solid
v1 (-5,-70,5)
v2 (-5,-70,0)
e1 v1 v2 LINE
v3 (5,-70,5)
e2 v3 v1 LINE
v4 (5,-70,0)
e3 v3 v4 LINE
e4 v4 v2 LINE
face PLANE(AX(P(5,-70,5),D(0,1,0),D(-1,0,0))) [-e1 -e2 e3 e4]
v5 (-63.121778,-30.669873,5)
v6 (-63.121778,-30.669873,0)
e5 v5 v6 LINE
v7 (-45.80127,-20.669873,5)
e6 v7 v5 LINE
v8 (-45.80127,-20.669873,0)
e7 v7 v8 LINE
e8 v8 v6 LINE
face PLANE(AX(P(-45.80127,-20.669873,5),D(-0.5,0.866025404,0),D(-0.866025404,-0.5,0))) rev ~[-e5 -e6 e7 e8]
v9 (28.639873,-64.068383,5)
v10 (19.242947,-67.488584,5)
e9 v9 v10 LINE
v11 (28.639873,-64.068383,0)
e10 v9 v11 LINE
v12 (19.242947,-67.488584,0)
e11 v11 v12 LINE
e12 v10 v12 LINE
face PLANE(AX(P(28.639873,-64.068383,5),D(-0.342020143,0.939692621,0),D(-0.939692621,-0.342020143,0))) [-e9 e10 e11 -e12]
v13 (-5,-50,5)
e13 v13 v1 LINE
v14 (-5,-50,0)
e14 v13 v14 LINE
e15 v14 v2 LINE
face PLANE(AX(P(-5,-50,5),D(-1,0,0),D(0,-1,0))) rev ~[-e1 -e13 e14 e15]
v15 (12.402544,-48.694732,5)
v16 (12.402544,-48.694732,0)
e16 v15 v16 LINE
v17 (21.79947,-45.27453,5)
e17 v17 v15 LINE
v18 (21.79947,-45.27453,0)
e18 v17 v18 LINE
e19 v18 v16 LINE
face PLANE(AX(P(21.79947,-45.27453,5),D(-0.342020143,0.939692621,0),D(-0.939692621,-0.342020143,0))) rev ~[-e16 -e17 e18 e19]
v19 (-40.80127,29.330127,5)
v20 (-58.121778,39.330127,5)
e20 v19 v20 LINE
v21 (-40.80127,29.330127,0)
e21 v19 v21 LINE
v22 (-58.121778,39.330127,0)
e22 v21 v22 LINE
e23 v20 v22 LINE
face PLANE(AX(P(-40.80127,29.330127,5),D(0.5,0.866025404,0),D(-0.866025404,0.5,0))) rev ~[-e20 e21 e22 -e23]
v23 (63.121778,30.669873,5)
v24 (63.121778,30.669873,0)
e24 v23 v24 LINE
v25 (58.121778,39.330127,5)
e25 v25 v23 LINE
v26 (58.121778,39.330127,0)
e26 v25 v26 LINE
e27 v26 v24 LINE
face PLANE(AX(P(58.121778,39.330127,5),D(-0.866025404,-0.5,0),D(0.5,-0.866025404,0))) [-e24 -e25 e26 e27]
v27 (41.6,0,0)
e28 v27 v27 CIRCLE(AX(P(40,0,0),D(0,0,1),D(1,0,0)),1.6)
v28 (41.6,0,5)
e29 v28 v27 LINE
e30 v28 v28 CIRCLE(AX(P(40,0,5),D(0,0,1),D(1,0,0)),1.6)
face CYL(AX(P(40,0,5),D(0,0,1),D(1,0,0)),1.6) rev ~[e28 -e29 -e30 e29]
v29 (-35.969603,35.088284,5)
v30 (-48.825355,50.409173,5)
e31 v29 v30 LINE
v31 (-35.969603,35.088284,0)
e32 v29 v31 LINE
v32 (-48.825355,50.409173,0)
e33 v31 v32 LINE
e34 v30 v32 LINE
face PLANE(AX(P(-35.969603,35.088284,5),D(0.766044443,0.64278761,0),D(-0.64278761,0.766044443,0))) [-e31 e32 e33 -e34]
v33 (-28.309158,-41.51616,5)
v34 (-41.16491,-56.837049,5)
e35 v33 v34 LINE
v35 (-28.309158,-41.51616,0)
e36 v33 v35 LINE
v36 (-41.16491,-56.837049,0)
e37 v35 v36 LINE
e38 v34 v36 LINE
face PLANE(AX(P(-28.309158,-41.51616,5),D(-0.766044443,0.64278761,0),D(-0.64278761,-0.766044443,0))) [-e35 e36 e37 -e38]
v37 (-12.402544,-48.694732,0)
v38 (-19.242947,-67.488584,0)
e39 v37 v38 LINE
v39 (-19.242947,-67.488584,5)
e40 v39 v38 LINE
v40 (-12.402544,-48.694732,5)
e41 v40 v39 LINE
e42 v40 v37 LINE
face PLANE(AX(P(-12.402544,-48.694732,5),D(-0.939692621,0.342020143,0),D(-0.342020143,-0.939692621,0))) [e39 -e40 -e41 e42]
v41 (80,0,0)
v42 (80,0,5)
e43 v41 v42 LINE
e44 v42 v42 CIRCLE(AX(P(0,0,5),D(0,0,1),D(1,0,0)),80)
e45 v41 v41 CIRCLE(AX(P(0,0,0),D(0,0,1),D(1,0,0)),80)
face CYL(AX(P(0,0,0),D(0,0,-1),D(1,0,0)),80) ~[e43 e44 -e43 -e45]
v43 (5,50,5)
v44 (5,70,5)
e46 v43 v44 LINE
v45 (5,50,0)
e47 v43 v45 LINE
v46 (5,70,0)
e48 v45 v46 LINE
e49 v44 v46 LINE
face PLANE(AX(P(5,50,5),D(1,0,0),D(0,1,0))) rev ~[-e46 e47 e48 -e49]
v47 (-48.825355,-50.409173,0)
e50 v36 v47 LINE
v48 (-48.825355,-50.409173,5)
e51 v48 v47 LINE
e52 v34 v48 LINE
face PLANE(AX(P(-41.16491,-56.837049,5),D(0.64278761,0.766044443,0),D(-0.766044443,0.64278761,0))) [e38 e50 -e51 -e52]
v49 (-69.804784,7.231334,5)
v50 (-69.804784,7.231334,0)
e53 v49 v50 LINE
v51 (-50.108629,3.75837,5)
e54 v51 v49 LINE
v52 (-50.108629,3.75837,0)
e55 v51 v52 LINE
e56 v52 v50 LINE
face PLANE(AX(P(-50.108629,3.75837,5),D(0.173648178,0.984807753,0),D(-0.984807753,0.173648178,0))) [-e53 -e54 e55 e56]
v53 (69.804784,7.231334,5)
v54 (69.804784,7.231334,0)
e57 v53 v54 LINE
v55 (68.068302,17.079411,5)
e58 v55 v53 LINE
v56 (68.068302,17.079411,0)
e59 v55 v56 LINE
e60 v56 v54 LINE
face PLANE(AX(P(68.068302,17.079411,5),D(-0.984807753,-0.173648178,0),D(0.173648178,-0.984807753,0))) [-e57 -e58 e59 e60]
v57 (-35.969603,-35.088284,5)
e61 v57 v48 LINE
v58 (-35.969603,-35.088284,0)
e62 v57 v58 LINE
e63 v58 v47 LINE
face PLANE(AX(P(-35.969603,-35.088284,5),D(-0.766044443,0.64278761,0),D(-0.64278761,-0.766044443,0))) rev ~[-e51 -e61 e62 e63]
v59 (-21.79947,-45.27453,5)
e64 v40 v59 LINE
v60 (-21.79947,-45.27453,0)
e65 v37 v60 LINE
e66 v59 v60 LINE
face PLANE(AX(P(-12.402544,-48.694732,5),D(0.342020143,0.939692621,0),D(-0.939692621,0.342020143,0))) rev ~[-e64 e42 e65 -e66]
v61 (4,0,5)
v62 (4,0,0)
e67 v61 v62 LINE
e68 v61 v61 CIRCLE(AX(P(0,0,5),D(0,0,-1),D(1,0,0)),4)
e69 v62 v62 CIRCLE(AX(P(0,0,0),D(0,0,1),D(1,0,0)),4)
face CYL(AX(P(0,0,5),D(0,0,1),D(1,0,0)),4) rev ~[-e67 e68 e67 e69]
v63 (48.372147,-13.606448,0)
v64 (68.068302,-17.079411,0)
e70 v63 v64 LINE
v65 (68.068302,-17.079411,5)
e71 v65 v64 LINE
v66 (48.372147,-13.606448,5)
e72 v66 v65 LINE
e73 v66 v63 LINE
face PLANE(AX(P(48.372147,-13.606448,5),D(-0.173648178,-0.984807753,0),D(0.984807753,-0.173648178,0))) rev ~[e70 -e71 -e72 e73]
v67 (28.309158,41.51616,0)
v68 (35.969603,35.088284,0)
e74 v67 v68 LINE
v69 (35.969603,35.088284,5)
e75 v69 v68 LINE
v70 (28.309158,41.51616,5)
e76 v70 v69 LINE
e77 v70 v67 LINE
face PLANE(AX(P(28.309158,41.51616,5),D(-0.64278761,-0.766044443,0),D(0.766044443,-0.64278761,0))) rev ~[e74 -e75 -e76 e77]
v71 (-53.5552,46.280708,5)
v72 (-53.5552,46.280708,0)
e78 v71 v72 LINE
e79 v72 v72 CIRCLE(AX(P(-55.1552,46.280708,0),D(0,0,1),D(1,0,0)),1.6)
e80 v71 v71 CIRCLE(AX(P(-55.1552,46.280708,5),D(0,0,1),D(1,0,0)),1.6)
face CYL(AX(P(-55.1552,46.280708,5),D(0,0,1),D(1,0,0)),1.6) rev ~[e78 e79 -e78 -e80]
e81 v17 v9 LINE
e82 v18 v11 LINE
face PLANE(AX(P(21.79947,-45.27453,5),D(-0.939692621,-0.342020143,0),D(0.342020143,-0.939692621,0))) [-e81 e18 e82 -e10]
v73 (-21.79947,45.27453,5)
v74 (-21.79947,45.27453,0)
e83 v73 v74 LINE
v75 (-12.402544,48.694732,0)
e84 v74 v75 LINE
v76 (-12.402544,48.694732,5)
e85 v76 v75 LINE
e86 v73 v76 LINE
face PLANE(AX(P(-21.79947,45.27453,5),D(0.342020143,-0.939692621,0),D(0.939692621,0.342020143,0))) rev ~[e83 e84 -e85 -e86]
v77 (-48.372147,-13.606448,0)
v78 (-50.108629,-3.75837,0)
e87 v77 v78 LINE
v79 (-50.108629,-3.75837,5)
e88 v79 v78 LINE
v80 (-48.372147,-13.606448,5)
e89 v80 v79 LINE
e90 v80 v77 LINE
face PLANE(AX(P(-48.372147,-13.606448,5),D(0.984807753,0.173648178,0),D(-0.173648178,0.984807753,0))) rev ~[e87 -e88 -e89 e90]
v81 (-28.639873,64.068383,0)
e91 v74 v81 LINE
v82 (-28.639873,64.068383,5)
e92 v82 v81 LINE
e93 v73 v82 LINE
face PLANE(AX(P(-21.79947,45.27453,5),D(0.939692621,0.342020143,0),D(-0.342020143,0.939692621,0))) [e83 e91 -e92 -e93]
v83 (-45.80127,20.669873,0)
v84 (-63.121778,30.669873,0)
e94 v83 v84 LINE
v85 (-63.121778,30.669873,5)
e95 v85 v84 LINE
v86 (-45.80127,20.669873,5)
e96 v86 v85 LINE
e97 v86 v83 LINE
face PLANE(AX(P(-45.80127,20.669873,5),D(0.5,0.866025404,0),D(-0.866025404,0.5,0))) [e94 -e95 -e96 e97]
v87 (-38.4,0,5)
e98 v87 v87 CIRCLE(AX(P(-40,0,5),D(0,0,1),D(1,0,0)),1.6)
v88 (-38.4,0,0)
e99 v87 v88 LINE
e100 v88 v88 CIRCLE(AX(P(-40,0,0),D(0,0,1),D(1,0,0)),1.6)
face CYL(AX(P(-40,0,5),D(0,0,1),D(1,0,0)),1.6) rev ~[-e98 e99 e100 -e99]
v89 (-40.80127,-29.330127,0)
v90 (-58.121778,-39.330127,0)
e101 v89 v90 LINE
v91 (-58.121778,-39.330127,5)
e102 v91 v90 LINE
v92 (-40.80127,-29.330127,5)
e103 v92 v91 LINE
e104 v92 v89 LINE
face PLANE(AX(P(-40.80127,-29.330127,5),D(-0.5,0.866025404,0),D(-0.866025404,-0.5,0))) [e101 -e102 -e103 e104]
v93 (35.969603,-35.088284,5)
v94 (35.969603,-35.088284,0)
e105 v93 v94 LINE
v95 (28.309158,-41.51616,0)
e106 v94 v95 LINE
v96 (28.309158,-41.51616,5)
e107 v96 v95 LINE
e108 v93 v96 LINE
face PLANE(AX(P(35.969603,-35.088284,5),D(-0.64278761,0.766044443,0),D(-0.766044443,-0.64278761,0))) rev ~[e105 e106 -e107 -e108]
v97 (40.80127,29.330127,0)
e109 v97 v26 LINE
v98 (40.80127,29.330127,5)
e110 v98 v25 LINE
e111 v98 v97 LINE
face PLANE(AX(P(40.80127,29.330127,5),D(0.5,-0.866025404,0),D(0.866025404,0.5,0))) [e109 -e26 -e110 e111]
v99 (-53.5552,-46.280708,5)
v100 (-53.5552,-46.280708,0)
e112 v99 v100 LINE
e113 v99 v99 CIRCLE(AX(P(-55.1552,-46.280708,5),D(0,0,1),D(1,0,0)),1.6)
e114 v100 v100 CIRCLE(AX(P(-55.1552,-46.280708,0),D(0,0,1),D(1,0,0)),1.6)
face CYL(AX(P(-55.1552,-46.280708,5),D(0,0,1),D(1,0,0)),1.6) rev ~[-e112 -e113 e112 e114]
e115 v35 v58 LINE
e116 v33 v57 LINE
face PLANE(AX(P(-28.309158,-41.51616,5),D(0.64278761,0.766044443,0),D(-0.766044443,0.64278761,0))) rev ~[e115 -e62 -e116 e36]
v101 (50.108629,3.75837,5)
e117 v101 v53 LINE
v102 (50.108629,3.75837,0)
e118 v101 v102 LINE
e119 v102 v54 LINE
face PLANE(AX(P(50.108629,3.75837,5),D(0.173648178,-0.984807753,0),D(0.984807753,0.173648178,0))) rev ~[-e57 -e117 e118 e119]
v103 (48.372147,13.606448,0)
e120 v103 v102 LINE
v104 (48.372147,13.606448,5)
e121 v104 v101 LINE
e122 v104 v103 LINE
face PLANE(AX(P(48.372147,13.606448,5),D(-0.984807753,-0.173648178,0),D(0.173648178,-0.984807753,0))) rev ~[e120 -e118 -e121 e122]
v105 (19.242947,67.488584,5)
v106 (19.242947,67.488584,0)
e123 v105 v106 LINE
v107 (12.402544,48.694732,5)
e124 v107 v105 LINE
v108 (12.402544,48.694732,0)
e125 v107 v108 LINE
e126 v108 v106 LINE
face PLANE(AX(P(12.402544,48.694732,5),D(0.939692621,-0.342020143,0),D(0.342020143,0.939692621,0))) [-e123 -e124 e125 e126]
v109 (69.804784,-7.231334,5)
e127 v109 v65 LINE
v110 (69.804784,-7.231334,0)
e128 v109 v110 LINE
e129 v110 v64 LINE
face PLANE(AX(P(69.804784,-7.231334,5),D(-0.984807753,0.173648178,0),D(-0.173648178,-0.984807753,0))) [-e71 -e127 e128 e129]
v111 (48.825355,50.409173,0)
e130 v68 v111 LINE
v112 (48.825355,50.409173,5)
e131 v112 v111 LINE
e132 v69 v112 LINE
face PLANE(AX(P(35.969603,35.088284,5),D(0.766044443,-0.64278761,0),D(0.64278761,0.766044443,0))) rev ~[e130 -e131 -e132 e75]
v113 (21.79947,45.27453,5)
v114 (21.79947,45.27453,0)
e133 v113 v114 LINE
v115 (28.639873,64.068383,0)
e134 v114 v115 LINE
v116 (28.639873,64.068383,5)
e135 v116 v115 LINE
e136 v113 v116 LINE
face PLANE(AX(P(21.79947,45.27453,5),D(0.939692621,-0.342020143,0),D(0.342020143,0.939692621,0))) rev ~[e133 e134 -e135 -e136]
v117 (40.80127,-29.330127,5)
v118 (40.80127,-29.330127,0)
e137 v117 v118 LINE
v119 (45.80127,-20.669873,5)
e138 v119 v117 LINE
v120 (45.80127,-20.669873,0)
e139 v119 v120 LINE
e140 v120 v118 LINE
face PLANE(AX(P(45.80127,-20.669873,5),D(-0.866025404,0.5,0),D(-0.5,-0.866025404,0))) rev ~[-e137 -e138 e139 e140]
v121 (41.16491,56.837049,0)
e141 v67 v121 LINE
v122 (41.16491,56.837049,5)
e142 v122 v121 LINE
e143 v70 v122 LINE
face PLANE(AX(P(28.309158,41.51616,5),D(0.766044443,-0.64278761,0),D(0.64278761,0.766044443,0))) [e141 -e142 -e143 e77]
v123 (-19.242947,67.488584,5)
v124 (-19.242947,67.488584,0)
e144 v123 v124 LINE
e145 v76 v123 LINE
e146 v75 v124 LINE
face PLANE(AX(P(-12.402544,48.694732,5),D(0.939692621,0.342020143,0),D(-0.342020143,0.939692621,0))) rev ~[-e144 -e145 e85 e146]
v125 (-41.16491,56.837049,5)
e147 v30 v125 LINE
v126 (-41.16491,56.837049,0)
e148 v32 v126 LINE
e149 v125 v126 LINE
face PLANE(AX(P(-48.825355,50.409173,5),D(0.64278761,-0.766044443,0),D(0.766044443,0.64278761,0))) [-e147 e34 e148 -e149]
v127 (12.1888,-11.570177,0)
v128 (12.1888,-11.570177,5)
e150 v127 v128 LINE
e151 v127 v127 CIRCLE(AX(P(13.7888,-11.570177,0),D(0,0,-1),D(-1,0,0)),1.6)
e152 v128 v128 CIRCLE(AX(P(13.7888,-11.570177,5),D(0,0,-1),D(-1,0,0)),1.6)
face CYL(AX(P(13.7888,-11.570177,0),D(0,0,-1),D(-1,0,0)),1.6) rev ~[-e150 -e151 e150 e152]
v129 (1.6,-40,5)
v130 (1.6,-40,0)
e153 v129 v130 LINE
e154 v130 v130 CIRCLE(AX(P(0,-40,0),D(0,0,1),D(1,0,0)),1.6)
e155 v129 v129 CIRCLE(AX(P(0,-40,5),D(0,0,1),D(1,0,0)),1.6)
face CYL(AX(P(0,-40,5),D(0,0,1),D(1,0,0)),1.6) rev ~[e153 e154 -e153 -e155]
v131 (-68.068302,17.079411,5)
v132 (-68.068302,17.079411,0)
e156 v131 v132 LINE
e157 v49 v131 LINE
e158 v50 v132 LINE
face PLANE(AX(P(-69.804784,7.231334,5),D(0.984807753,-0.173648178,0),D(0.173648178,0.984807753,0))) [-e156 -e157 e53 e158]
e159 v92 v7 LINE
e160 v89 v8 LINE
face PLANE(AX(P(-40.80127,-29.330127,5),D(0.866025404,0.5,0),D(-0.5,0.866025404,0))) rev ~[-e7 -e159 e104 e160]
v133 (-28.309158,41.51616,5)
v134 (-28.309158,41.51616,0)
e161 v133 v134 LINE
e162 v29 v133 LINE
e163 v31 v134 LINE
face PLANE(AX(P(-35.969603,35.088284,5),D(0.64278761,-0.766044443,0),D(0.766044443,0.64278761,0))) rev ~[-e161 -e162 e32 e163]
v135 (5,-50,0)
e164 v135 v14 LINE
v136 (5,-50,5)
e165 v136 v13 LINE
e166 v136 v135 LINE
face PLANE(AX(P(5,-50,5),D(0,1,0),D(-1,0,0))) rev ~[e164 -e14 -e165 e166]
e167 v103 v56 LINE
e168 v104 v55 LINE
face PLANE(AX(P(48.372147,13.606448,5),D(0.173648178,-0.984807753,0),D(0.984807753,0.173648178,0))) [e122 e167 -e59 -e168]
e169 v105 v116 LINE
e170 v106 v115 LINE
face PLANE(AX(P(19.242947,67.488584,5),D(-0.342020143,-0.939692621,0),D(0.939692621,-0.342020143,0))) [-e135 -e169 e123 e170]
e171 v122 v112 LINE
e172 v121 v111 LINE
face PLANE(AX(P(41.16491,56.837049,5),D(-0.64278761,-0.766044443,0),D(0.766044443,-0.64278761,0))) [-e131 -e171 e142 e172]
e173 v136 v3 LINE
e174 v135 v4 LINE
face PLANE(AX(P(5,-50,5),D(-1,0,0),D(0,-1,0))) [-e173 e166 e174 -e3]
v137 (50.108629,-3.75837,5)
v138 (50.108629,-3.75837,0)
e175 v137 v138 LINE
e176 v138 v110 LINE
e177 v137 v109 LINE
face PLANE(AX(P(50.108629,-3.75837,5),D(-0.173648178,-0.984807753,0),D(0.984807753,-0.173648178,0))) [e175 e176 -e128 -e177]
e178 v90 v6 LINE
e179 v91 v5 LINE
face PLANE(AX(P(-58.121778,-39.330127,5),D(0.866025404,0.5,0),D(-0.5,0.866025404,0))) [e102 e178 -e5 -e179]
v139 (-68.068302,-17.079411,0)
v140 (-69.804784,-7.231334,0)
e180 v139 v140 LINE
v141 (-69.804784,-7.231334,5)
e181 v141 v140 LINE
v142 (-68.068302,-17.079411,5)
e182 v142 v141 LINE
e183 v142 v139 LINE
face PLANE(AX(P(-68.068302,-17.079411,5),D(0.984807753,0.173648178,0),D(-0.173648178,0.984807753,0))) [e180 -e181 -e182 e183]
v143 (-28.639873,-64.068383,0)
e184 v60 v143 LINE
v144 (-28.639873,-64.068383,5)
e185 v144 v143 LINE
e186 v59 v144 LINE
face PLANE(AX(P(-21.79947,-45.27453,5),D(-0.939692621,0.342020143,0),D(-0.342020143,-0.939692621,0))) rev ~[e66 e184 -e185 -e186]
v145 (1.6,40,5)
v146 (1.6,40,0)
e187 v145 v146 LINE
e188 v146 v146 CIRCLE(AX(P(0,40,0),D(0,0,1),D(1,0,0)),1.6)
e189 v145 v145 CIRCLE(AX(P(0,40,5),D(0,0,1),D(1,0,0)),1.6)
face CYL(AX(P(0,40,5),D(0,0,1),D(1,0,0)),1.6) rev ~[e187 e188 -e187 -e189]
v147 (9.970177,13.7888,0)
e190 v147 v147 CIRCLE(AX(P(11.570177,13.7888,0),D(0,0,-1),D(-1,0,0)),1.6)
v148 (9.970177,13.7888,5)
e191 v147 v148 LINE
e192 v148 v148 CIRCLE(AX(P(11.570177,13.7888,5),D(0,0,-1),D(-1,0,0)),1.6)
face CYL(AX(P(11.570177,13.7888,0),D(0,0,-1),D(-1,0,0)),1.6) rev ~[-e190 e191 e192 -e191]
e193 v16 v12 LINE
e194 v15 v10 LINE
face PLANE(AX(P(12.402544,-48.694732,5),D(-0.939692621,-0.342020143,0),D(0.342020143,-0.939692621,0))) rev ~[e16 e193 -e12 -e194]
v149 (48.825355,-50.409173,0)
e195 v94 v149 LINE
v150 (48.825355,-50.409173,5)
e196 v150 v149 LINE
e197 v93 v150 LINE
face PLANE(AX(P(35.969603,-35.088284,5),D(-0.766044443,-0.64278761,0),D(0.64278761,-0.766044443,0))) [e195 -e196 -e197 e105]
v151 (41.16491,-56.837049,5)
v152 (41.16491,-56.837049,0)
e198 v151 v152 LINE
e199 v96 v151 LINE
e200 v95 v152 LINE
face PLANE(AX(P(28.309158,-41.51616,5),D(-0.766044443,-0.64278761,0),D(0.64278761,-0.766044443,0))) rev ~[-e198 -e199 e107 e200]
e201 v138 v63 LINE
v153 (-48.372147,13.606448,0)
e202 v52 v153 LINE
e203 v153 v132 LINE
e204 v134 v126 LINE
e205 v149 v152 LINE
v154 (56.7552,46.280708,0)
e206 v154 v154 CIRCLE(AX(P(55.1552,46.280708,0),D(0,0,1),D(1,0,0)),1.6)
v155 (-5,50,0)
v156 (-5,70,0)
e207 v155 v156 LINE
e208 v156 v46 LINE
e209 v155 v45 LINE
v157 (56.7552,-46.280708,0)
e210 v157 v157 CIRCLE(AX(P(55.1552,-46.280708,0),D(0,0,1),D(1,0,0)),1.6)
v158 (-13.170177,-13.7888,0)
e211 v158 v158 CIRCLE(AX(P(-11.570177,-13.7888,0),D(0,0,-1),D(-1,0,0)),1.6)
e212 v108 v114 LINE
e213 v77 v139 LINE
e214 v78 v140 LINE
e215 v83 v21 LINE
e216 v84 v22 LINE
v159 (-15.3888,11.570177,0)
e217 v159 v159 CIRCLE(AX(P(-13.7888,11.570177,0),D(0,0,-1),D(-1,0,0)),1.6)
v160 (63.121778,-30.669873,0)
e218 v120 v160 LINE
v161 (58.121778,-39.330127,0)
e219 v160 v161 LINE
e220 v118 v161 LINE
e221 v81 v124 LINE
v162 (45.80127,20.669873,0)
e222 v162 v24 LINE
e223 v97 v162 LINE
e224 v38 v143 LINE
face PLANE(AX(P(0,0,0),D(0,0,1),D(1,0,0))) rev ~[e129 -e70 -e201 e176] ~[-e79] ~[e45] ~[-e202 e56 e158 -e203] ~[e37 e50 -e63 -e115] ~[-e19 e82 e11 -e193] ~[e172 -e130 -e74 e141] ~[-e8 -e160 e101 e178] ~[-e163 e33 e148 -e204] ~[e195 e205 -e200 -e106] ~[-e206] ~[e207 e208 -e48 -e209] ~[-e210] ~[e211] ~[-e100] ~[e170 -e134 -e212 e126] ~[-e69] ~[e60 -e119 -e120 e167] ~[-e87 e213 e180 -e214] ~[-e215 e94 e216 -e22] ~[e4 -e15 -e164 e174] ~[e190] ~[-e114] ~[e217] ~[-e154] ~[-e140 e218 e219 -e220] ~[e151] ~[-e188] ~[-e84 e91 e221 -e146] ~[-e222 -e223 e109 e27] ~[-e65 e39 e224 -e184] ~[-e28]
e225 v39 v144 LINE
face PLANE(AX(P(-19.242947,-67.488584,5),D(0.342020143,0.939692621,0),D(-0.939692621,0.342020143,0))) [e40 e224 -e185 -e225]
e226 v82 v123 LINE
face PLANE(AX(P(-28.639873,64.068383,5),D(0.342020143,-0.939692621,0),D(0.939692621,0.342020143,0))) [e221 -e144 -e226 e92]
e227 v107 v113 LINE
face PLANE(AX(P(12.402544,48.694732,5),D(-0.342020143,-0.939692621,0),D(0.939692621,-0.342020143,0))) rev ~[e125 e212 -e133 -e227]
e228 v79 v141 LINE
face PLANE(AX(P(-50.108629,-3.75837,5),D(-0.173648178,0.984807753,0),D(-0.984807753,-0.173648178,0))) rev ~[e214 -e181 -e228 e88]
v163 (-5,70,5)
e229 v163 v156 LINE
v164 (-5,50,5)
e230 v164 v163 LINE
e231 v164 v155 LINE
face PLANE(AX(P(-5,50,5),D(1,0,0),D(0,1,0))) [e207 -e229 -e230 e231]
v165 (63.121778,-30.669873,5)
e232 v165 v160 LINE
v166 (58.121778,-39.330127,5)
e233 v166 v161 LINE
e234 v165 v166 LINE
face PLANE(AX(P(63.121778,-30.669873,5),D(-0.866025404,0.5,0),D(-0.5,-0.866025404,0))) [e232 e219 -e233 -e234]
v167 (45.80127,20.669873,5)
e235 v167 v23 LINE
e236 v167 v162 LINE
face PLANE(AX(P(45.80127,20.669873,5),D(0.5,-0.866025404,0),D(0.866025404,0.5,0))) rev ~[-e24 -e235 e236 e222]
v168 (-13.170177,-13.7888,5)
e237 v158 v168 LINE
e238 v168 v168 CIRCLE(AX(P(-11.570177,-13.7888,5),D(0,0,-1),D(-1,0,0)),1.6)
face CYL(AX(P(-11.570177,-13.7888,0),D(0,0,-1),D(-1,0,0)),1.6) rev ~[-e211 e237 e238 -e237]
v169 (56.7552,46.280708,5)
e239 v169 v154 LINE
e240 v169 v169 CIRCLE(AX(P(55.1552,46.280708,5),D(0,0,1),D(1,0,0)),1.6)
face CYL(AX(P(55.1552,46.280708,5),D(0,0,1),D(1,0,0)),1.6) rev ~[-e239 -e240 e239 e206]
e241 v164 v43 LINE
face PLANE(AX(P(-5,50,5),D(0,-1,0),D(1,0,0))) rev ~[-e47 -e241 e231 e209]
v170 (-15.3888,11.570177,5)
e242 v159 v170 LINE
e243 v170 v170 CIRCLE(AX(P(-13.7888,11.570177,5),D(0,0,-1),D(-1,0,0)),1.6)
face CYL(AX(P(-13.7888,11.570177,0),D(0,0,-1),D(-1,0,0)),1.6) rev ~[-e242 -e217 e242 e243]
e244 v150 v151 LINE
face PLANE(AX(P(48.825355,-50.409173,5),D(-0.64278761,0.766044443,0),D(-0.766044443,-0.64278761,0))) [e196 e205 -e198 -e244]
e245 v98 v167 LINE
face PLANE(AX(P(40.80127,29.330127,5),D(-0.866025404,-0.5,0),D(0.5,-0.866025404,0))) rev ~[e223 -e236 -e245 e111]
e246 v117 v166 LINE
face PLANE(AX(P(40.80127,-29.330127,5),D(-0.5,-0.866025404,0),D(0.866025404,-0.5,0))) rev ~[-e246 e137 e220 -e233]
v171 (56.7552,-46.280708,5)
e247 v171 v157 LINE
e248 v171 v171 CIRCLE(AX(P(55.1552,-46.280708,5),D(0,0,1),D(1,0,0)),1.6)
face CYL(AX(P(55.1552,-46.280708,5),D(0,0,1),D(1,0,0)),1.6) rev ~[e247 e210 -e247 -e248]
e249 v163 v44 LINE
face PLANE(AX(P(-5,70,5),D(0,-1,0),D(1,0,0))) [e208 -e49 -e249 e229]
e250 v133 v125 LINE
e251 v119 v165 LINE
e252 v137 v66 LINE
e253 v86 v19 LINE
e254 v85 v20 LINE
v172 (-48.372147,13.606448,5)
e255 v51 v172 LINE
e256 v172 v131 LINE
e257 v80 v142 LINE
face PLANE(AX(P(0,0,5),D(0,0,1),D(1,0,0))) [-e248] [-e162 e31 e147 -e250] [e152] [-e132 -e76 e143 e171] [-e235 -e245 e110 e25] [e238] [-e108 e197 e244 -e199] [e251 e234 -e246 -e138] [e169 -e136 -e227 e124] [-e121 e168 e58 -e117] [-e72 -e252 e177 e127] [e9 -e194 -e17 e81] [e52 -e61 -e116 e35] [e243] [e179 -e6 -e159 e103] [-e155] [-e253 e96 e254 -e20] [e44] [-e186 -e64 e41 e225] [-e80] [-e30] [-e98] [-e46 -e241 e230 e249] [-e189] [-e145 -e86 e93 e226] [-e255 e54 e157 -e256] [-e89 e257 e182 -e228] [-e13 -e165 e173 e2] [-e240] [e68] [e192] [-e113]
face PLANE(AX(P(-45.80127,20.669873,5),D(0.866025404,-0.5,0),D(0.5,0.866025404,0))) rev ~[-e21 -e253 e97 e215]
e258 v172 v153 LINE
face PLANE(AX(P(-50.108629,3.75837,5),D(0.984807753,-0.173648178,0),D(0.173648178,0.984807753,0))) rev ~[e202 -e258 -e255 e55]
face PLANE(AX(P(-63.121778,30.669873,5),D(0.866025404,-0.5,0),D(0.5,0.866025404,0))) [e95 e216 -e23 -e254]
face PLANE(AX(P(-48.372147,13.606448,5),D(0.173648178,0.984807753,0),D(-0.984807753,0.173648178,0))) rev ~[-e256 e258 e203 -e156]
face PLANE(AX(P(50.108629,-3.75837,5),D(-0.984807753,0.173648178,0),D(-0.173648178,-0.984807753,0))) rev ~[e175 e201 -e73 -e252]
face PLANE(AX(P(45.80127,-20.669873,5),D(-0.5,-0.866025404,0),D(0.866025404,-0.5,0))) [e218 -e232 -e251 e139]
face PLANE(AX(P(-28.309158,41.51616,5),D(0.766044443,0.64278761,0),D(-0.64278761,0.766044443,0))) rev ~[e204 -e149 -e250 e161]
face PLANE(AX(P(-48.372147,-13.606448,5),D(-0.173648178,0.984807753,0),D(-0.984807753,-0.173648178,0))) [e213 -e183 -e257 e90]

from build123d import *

# Parameters (mm, degrees)
SKETCH1_R           = 80
BOSS_EXTRUDE1_DEPTH = 5
SKETCH2_R           = 4
SKETCH2_W           = 10
SKETCH2_H           = 20
CUT_EXTRUDE1_DEPTH  = 5
CIRPATTERN1_COUNT   = 18
SKETCH3_R           = 1.6
CUT_EXTRUDE2_DEPTH  = 5
SKETCH4_R           = 1.6
CUT_EXTRUDE3_DEPTH  = 10


with BuildPart() as part:
    # Sketch1 → Boss-Extrude1 (new body)
    with BuildSketch(Plane.XY):
        Circle(SKETCH1_R)
    extrude(amount=BOSS_EXTRUDE1_DEPTH)

    # Sketch2 → Cut-Extrude1 (cut)
    with BuildSketch(Plane.XY.offset(5)):
        Circle(SKETCH2_R)
        with Locations((0, 60)):
            Rectangle(SKETCH2_W, SKETCH2_H)
    cut_extrude1 = extrude(amount=-CUT_EXTRUDE1_DEPTH, mode=Mode.SUBTRACT)

    # CirPattern1: Cut-Extrude1 ×18 about axis
    cirpattern1_axis = Axis((0, 0, 0), (0, 0, 1))
    for i in range(1, CIRPATTERN1_COUNT):
        add(cut_extrude1.rotate(cirpattern1_axis, i * 360 / CIRPATTERN1_COUNT), mode=Mode.SUBTRACT)

    # Sketch3 → Cut-Extrude2 (cut)
    with BuildSketch(Plane.XY.offset(5)):
        with Locations((-55.155199905, 46.280707897)):
            Circle(SKETCH3_R)
        with Locations((-55.155199905, -46.280707897)):
            Circle(SKETCH3_R)
        with Locations((55.155199905, -46.280707897)):
            Circle(SKETCH3_R)
        with Locations((55.155199905, 46.280707897)):
            Circle(SKETCH3_R)
        with Locations((-40, 0)):
            Circle(SKETCH3_R)
        with Locations((0, 40)):
            Circle(SKETCH3_R)
        with Locations((0, -40)):
            Circle(SKETCH3_R)
        with Locations((40, 0)):
            Circle(SKETCH3_R)
    extrude(amount=-CUT_EXTRUDE2_DEPTH, mode=Mode.SUBTRACT)

    # Sketch4 → Cut-Extrude3 (cut)
    with BuildSketch(Plane(origin=(0, 0, 0), x_dir=(-1, 0, 0), z_dir=(0, 0, -1))):
        with Locations((-11.570176974, 13.788799976)):
            Circle(SKETCH4_R)
        with Locations((13.788799976, 11.570176974)):
            Circle(SKETCH4_R)
        with Locations((11.570176974, -13.788799976)):
            Circle(SKETCH4_R)
        with Locations((-13.788799976, -11.570176974)):
            Circle(SKETCH4_R)
    extrude(amount=-CUT_EXTRUDE3_DEPTH, mode=Mode.SUBTRACT)


solid = part.part
